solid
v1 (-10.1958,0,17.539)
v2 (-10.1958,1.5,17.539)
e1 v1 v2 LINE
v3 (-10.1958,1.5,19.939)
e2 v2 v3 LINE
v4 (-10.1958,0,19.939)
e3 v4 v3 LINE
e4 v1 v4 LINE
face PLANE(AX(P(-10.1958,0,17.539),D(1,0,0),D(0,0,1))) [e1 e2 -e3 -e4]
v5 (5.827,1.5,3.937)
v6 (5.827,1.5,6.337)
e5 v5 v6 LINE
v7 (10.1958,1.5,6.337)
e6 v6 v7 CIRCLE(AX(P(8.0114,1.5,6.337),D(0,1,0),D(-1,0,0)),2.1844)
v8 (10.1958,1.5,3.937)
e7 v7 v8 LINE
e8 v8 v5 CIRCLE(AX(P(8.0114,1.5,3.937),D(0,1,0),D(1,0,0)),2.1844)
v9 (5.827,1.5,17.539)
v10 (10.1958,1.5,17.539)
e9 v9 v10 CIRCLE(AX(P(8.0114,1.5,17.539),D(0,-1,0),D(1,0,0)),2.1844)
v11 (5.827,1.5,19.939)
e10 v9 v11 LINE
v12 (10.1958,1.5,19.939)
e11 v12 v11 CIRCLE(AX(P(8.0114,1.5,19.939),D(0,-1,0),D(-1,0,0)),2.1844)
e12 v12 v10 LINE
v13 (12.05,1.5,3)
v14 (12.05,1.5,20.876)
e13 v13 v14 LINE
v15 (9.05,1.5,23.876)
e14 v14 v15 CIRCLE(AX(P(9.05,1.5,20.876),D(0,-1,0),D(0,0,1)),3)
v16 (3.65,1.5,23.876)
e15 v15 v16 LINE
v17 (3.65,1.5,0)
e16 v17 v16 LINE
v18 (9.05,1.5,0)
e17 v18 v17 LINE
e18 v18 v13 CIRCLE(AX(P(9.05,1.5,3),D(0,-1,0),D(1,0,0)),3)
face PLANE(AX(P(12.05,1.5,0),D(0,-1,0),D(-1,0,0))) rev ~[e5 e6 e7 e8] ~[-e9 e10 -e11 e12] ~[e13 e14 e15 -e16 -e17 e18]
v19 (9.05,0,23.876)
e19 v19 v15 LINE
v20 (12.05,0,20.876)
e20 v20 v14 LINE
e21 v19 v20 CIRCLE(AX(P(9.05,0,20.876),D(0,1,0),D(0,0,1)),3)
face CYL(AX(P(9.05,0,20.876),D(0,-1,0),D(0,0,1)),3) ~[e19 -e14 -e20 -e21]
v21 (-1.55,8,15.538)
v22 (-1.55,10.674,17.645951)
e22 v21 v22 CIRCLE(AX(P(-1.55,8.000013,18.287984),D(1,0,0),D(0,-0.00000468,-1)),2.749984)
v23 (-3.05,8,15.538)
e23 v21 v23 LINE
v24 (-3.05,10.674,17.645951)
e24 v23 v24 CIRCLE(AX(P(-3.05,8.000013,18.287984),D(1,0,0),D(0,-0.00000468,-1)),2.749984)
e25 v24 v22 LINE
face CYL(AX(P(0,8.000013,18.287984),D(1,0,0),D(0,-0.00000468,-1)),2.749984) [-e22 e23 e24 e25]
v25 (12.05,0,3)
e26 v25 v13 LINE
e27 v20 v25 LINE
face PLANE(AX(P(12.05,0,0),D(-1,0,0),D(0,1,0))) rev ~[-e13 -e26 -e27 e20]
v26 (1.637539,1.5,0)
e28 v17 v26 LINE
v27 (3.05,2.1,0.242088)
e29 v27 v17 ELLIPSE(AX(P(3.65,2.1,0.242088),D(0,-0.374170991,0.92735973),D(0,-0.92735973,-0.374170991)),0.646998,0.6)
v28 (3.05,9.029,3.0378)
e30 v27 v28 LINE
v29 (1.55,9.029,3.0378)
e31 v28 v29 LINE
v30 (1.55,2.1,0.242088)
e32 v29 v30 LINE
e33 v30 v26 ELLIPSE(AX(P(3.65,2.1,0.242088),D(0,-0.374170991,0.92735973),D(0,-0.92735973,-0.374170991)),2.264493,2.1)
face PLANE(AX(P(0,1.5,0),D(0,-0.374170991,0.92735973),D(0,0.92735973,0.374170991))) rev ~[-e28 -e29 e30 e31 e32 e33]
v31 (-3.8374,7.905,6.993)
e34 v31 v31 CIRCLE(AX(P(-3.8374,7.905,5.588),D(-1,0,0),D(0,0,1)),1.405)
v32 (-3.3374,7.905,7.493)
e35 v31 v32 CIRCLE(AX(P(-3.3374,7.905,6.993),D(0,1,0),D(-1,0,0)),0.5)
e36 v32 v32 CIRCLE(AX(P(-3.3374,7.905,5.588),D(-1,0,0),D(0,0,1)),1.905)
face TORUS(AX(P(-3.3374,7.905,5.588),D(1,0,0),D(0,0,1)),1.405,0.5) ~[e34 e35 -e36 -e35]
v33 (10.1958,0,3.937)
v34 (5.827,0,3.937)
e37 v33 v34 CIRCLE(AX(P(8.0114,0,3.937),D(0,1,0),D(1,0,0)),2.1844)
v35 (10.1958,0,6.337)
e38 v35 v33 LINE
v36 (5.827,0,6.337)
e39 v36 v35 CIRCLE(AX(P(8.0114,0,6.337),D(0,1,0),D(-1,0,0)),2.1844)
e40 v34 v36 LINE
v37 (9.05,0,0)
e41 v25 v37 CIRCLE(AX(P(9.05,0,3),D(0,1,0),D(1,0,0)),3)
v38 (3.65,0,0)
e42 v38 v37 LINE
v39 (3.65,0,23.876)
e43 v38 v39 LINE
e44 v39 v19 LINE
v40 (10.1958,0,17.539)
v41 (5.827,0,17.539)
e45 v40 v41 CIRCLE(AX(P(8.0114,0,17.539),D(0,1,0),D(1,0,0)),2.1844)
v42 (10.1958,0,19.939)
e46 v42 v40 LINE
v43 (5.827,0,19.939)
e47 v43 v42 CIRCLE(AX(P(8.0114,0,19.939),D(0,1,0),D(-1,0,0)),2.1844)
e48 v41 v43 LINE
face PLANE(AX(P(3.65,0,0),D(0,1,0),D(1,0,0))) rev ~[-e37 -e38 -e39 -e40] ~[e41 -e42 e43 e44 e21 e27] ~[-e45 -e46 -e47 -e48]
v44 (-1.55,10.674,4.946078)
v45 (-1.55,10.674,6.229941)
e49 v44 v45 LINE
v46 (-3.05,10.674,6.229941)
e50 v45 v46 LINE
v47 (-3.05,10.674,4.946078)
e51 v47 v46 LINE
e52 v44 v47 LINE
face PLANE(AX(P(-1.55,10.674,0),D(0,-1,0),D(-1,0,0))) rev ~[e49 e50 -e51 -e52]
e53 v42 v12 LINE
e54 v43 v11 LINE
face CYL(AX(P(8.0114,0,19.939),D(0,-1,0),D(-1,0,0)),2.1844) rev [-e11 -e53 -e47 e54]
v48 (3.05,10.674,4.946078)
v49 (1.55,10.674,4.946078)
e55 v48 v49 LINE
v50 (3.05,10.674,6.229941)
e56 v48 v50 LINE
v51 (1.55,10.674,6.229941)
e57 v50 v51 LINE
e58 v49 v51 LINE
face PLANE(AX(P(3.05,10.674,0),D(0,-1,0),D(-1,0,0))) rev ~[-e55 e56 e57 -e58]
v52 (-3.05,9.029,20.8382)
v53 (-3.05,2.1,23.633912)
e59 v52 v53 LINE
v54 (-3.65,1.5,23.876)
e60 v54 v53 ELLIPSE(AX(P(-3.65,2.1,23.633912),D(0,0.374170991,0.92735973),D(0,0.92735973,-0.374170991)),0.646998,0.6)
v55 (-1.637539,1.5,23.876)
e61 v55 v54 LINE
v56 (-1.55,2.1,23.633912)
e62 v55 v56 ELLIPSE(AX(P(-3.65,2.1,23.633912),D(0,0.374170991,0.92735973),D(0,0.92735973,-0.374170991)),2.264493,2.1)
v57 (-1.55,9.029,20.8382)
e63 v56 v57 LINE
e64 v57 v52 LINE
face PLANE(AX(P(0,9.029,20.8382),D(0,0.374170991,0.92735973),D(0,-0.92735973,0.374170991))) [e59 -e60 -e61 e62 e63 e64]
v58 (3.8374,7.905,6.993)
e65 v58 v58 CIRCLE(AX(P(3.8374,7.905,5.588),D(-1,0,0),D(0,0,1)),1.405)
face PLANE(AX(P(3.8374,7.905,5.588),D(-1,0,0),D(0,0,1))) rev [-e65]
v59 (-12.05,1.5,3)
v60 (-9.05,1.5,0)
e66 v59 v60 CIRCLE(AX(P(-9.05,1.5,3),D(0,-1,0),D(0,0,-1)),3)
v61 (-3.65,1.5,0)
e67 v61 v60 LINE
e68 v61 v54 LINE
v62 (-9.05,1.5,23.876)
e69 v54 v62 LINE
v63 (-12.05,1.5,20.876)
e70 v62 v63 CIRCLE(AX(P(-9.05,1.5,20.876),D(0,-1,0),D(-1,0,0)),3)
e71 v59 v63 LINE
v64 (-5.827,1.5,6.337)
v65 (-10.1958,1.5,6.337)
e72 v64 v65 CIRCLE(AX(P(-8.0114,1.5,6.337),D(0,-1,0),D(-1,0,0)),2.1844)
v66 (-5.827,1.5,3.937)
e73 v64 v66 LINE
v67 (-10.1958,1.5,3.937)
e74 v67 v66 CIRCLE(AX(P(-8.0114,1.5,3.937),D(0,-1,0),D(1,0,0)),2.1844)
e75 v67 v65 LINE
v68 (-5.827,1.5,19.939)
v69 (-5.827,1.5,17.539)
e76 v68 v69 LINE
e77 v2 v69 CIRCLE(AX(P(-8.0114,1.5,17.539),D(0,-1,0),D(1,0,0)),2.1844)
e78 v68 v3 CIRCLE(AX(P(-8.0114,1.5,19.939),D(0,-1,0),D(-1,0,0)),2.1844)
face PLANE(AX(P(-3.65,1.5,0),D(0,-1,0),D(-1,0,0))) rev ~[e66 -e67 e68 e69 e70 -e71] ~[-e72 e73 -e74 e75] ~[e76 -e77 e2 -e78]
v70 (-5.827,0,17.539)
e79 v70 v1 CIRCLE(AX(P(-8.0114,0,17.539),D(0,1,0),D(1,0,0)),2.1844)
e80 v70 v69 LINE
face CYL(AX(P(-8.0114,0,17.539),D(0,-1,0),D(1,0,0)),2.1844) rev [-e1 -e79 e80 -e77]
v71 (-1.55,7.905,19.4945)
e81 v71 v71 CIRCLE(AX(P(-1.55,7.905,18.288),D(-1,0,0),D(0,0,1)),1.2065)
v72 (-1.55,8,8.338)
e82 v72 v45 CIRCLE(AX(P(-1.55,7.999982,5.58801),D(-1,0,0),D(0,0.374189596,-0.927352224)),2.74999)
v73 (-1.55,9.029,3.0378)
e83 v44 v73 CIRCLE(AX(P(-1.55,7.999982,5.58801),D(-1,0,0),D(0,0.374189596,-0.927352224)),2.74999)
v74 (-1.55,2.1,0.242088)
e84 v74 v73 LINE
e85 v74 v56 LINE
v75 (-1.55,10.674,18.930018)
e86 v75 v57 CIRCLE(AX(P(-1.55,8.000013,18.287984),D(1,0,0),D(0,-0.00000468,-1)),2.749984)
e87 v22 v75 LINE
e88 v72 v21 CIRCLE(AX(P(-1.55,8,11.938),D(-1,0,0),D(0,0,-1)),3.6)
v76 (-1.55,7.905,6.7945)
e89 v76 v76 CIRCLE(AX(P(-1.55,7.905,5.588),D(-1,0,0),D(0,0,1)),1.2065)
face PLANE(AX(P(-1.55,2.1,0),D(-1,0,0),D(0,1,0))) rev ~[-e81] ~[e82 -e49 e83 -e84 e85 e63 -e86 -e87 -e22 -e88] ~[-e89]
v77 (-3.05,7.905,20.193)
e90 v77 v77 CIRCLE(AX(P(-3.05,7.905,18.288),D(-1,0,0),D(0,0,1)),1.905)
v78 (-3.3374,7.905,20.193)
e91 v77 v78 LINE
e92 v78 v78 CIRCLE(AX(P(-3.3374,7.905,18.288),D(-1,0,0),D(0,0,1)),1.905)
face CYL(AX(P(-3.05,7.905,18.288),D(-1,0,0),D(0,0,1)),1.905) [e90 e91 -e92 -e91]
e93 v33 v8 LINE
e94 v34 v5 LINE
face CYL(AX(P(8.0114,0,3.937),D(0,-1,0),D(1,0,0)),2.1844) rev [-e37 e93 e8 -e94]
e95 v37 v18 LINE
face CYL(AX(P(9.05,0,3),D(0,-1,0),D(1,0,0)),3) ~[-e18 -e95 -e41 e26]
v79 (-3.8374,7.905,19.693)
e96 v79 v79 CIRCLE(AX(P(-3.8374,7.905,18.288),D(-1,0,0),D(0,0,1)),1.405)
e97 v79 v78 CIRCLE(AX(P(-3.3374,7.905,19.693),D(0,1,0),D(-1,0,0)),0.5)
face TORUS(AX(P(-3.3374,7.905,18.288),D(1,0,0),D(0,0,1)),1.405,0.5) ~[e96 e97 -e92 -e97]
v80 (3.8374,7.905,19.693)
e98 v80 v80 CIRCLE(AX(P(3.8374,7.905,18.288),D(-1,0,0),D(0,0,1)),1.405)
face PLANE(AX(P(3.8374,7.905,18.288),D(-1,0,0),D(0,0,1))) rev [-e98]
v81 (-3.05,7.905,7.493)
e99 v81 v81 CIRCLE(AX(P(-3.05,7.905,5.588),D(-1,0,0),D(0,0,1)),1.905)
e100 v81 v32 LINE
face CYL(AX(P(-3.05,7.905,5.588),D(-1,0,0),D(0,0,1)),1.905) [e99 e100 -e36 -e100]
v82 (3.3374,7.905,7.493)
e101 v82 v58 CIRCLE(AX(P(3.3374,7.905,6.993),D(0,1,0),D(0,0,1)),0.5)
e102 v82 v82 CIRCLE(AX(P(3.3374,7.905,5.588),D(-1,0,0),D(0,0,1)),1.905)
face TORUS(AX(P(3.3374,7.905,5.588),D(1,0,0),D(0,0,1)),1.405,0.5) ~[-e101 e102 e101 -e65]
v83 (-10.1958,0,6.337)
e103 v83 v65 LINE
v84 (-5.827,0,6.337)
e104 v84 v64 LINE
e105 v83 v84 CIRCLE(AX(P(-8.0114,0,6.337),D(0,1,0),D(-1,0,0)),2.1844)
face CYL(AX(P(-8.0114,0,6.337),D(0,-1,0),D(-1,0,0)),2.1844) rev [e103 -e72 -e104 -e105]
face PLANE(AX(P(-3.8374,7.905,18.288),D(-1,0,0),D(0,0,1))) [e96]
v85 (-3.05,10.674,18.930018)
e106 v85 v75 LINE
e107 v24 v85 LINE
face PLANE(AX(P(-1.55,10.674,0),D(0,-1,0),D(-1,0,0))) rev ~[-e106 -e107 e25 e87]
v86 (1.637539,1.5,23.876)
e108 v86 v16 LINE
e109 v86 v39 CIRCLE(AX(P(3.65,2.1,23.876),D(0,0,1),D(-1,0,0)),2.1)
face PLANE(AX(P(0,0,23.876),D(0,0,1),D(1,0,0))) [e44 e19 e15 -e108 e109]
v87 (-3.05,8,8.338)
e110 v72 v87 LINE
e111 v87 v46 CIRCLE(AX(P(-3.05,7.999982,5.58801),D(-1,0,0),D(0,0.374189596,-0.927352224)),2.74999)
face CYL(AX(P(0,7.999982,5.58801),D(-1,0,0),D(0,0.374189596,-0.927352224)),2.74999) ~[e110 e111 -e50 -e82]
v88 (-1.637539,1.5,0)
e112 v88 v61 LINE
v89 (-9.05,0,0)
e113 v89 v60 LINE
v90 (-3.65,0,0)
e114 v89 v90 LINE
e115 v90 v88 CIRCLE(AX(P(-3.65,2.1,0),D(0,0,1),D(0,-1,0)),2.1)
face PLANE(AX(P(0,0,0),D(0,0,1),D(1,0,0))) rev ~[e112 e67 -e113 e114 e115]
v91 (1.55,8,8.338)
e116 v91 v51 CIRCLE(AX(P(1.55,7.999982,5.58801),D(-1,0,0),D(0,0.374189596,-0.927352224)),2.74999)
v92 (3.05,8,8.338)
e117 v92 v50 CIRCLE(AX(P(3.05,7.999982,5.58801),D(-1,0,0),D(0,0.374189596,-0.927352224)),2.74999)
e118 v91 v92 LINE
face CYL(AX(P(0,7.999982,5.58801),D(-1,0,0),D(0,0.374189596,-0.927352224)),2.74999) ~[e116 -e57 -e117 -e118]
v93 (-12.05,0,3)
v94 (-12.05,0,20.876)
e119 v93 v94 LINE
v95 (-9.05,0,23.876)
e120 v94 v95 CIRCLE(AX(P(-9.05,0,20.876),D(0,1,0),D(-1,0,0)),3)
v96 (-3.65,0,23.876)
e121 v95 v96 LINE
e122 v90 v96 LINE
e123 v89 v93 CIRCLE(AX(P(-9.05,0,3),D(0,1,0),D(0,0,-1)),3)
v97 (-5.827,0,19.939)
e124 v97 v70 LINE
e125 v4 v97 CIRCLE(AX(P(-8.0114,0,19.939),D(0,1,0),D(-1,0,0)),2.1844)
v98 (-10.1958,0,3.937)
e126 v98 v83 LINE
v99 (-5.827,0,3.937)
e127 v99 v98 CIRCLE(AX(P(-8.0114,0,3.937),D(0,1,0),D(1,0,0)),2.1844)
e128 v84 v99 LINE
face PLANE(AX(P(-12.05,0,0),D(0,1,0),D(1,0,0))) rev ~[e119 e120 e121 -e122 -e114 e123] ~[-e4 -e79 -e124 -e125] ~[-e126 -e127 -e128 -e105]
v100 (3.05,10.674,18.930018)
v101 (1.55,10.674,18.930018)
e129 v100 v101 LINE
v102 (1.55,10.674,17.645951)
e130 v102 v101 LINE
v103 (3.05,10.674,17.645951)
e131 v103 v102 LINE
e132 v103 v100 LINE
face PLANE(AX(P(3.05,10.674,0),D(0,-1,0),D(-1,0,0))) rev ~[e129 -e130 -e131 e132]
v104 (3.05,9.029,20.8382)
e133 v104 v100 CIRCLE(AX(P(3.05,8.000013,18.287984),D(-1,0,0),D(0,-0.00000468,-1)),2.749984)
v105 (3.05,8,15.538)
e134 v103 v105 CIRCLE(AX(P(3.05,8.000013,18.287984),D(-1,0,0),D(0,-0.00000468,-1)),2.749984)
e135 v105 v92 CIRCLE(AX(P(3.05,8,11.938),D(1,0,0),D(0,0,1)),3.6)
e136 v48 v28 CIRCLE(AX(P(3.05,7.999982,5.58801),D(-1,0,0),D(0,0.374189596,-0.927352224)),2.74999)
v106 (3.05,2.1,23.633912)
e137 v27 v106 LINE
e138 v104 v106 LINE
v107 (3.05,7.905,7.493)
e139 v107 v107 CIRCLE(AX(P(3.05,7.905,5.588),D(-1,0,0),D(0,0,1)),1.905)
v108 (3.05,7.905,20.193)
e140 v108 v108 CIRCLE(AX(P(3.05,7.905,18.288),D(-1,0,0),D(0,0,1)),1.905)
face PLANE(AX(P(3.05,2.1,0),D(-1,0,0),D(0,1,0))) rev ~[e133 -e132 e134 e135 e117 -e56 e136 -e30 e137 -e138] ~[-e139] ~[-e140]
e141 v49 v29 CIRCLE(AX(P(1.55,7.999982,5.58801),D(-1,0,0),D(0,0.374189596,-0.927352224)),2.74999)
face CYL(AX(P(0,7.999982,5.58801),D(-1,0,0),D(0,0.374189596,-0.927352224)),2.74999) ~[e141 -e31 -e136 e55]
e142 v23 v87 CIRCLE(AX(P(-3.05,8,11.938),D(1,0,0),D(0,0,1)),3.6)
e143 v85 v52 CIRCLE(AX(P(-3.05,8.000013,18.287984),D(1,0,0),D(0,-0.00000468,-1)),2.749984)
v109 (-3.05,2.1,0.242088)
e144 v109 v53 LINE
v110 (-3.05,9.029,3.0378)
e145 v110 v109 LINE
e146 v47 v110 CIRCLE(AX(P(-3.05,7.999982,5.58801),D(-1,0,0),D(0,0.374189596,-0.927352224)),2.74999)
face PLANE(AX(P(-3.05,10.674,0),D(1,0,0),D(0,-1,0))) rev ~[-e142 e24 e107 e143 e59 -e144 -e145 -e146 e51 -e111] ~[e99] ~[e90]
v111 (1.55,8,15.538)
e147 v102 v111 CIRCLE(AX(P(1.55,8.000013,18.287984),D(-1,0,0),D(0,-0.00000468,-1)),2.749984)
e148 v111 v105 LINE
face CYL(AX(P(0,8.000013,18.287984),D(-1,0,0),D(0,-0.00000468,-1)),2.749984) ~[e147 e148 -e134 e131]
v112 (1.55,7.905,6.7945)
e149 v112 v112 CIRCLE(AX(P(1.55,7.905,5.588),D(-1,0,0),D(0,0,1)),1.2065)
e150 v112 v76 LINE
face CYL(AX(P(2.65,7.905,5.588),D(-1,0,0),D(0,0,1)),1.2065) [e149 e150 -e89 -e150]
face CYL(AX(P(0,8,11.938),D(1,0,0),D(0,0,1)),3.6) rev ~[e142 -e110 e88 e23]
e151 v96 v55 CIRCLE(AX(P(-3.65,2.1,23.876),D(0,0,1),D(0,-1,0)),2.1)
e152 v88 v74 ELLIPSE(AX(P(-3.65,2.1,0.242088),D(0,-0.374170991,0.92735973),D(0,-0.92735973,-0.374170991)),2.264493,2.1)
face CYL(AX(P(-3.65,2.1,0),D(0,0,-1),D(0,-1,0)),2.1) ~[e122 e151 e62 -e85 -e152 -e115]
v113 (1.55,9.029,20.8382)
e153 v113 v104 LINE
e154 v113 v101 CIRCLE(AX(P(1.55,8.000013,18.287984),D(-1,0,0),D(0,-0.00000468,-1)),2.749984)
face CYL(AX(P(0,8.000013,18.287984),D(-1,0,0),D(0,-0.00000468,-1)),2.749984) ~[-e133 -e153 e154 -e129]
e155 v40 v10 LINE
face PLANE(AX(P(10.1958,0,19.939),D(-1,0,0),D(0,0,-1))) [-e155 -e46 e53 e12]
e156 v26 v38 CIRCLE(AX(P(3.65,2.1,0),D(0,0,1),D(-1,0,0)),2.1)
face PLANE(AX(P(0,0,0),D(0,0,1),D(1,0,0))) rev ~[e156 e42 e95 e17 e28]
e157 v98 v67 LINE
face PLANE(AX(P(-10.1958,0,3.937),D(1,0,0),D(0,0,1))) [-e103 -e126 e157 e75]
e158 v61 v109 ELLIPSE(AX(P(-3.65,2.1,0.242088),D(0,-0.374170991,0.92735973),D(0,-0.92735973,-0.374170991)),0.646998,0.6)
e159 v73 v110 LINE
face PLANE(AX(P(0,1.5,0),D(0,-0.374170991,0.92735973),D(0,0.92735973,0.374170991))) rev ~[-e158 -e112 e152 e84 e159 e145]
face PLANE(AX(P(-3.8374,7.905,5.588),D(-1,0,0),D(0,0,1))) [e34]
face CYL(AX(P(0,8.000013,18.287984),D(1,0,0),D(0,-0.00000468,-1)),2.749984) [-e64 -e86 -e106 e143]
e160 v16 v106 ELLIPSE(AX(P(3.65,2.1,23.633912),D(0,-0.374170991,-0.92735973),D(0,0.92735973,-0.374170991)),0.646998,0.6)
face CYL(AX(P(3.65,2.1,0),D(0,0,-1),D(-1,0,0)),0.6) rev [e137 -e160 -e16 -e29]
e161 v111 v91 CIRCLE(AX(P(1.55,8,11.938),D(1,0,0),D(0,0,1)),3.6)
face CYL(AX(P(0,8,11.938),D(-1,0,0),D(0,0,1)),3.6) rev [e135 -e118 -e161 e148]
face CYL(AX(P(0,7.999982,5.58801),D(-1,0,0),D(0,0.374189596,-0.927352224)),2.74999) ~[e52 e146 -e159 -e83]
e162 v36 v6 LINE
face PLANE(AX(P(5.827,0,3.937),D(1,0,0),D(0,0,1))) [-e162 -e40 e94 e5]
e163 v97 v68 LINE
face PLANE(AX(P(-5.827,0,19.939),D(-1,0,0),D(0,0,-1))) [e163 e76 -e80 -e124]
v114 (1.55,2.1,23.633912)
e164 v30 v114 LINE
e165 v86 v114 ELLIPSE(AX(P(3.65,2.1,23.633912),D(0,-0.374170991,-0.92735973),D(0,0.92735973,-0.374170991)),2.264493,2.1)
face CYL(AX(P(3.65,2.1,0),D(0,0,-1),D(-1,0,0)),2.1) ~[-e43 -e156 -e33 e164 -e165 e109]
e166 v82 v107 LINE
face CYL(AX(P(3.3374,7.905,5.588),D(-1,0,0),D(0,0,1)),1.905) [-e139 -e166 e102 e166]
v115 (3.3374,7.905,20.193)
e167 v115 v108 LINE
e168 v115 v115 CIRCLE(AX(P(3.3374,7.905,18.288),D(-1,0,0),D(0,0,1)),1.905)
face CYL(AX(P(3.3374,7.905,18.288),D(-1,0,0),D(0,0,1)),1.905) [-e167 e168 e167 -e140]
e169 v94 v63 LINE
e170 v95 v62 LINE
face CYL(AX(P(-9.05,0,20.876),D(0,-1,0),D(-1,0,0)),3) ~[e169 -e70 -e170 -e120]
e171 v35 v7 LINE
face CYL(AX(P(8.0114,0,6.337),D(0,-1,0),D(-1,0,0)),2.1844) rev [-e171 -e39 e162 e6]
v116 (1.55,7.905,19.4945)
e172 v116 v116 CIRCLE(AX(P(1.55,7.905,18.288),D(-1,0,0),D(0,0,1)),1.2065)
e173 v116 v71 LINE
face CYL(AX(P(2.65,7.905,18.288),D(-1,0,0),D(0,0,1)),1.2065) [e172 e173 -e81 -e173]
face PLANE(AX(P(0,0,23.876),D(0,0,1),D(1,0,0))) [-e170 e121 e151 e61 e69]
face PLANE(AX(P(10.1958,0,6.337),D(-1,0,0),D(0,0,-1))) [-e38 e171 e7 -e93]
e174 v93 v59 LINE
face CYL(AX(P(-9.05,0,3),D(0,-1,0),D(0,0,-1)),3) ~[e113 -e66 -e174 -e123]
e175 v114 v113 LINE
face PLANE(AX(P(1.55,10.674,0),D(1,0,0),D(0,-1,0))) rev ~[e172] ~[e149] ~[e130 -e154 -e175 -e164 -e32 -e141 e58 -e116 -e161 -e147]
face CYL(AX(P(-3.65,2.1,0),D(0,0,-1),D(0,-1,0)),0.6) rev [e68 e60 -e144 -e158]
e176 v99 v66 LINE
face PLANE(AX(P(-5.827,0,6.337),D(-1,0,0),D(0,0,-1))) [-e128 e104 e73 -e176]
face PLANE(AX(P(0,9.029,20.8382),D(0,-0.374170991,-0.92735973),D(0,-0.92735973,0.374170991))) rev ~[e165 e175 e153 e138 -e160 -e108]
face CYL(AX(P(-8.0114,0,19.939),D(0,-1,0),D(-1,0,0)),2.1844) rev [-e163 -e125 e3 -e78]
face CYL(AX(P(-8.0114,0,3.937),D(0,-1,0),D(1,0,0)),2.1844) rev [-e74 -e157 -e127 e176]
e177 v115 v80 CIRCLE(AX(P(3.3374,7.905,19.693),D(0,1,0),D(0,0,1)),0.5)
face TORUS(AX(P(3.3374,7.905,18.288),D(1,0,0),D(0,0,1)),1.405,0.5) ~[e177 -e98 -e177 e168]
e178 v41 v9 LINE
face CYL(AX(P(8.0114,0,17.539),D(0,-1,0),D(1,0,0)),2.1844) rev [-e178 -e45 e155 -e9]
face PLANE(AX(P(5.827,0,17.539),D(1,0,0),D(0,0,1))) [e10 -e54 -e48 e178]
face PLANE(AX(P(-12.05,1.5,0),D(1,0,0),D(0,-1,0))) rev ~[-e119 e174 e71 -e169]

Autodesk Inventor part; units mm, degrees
sketch "Skizze_1" plane through (0, 0, 0) normal (0, 0, 1) x (1, 0, 0)
  arc A0 (1.55, 2.1) -> (3.65, 0) centre (3.65, 2.1) ccw
  line L0 (3.65, 0) -> (12.05, 0)
  line L1 (12.05, 0) -> (12.05, 1.5)
  line L2 (12.05, 1.5) -> (3.65, 1.5)
  arc A1 (3.05, 2.1) -> (3.65, 1.5) centre (3.65, 2.1) ccw
  line L3 (3.05, 2.1) -> (3.05, 10.674)
  line L4 (3.05, 10.674) -> (1.55, 10.674)
  line L5 (1.55, 10.674) -> (1.55, 2.1)
extrude "Extrusion1" add sketch "Skizze_1" along normal blind 23.876
sketch "Skizze_2" plane through (0, 7.905, 0) normal (0, 1, 0) x (1, 0, 0)
  line L0 (-3.8374, -5.588) -> (3.8374, -5.588)
  line L1 (3.8374, -5.588) -> (3.8374, -6.993)
  arc A0 (3.3374, -7.493) -> (3.8374, -6.993) centre (3.3374, -6.993) ccw
  line L2 (3.3374, -7.493) -> (3.05, -7.493)
  line L3 (3.05, -7.493) -> (3.05, -7.1945)
  arc A1 (3.05, -7.1945) -> (2.65, -6.7945) centre (2.65, -7.1945) ccw
  line L4 (2.65, -6.7945) -> (-2.65, -6.7945)
  arc A2 (-2.65, -6.7945) -> (-3.05, -7.1945) centre (-2.65, -7.1945) ccw
  line L5 (-3.05, -7.1945) -> (-3.05, -7.493)
  line L6 (-3.05, -7.493) -> (-3.3374, -7.493)
  arc A3 (-3.8374, -6.993) -> (-3.3374, -7.493) centre (-3.3374, -6.993) ccw
  line L7 (-3.8374, -6.993) -> (-3.8374, -5.588)
  line L8 (-3.8374, -5.588) -> (3.8374, -5.588)
revolve "Revolution1" add sketch "Skizze_2" angle 360 about axis through (-3.8374, 7.905, 5.588) along (-1, 0, 0)
sketch "Skizze_3" plane through (0, 7.905, 0) normal (0, 1, 0) x (1, 0, 0)
  line L0 (-3.8374, -18.288) -> (3.8374, -18.288)
  line L1 (3.8374, -18.288) -> (3.8374, -19.693)
  arc A0 (3.3374, -20.193) -> (3.8374, -19.693) centre (3.3374, -19.693) ccw
  line L2 (3.3374, -20.193) -> (3.05, -20.193)
  line L3 (3.05, -20.193) -> (3.05, -19.8945)
  arc A1 (3.05, -19.8945) -> (2.65, -19.4945) centre (2.65, -19.8945) ccw
  line L4 (2.65, -19.4945) -> (-2.65, -19.4945)
  arc A2 (-2.65, -19.4945) -> (-3.05, -19.8945) centre (-2.65, -19.8945) ccw
  line L5 (-3.05, -19.8945) -> (-3.05, -20.193)
  line L6 (-3.05, -20.193) -> (-3.3374, -20.193)
  arc A3 (-3.8374, -19.693) -> (-3.3374, -20.193) centre (-3.3374, -19.693) ccw
  line L7 (-3.8374, -19.693) -> (-3.8374, -18.288)
  line L8 (-3.8374, -18.288) -> (3.8374, -18.288)
revolve "Revolution2" add sketch "Skizze_3" angle 360 about axis through (-3.8374, 7.905, 18.288) along (-1, 0, 0)
sketch "Skizze_4" plane through (0, 0, 0) normal (0, 0, 1) x (1, 0, 0)
  line L0 (-12.05, 1.5) -> (-12.05, 0)
  line L1 (-12.05, 0) -> (-3.65, 0)
  arc A0 (-3.65, 0) -> (-1.55, 2.1) centre (-3.65, 2.1) ccw
  line L2 (-1.55, 2.1) -> (-1.55, 10.674)
  line L3 (-1.55, 10.674) -> (-3.05, 10.674)
  line L4 (-3.05, 10.674) -> (-3.05, 2.1)
  arc A1 (-3.65, 1.5) -> (-3.05, 2.1) centre (-3.65, 2.1) ccw
  line L5 (-3.65, 1.5) -> (-12.05, 1.5)
extrude "Extrusion2" add sketch "Skizze_4" along normal blind 23.876
sketch "Skizze_5" plane through (0, 0, 0) normal (1, 0, 0) x (0, 1, 0)
  line L0 (-7, 30) -> (-7, -7)
  line L1 (-7, -7) -> (15, -7)
  line L2 (15, -7) -> (15, 30)
  line L3 (15, 30) -> (-7, 30)
  line L4 (1.5, 23.876) -> (0, 23.876)
  line L5 (0, 23.876) -> (0, 0)
  line L6 (0, 0) -> (1.5, 0)
  line L7 (1.5, 0) -> (9.029, 3.0378)
  arc A0 (9.029, 3.0378) -> (8, 8.338) centre (8, 5.588) ccw
  arc A1 (4.4, 11.938) -> (8, 8.338) centre (8, 11.938) ccw
  arc A2 (8, 15.538) -> (4.4, 11.938) centre (8, 11.938) ccw
  arc A3 (8, 15.538) -> (9.029, 20.8382) centre (8, 18.288) ccw
  line L8 (9.029, 20.8382) -> (1.5, 23.876)
extrude "Extrusion3" cut sketch "Skizze_5" along normal mid plane 50
sketch "Skizze_6" plane through (0, 0, 0) normal (0, 1, 0) x (-1, 0, 0)
  line L0 (31, 46) -> (-49, 46)
  line L1 (-49, 46) -> (-49, -17)
  line L2 (-49, -17) -> (31, -17)
  line L3 (31, -17) -> (31, 46)
  arc A0 (12.05, 20.876) -> (9.05, 23.876) centre (9.05, 20.876) ccw
  line L4 (9.05, 23.876) -> (-9.05, 23.876)
  arc A1 (-9.05, 23.876) -> (-12.05, 20.876) centre (-9.05, 20.876) ccw
  line L5 (-12.05, 20.876) -> (-12.05, 3)
  arc A2 (-12.05, 3) -> (-9.05, 0) centre (-9.05, 3) ccw
  line L6 (-9.05, 0) -> (9.05, 0)
  arc A3 (9.05, 0) -> (12.05, 3) centre (9.05, 3) ccw
  line L7 (12.05, 3) -> (12.05, 20.876)
extrude "Extrusion4" cut sketch "Skizze_6" along normal blind 5
sketch "Skizze_7" plane through (0, 0, 0) normal (0, 1, 0) x (-1, 0, 0)
  arc A0 (-5.827, 6.337) -> (-10.1958, 6.337) centre (-8.0114, 6.337) ccw
  line L0 (-10.1958, 6.337) -> (-10.1958, 3.937)
  arc A1 (-10.1958, 3.937) -> (-5.827, 3.937) centre (-8.0114, 3.937) ccw
  line L1 (-5.827, 3.937) -> (-5.827, 6.337)
extrude "Extrusion5" cut sketch "Skizze_7" along normal blind 1.5
sketch "Skizze_8" plane through (0, 0, 0) normal (0, 1, 0) x (-1, 0, 0)
  line L0 (-5.827, 17.539) -> (-5.827, 19.939)
  arc A0 (-5.827, 19.939) -> (-10.1958, 19.939) centre (-8.0114, 19.939) ccw
  line L1 (-10.1958, 19.939) -> (-10.1958, 17.539)
  arc A1 (-10.1958, 17.539) -> (-5.827, 17.539) centre (-8.0114, 17.539) ccw
extrude "Extrusion6" cut sketch "Skizze_8" along normal blind 5
sketch "Skizze_10" plane through (0, 0, 0) normal (0, 1, 0) x (-1, 0, 0)
  arc A0 (10.1958, 6.337) -> (5.827, 6.337) centre (8.0114, 6.337) ccw
  line L0 (5.827, 6.337) -> (5.827, 3.937)
  arc A1 (5.827, 3.937) -> (10.1958, 3.937) centre (8.0114, 3.937) ccw
  line L1 (10.1958, 3.937) -> (10.1958, 6.337)
extrude "Extrusion7" cut sketch "Skizze_10" along normal blind 5
sketch "Skizze_11" plane through (0, 0, 0) normal (0, 1, 0) x (-1, 0, 0)
  line L0 (10.1958, 17.539) -> (10.1958, 19.939)
  arc A0 (10.1958, 19.939) -> (5.827, 19.939) centre (8.0114, 19.939) ccw
  line L1 (5.827, 19.939) -> (5.827, 17.539)
  arc A1 (5.827, 17.539) -> (10.1958, 17.539) centre (8.0114, 17.539) ccw
extrude "Extrusion8" cut sketch "Skizze_11" along normal blind 3
ref_plane "WF1_XY" through (0, 7.905, 5.588) normal (1, 0, 0) x (0, 0, -1)
ref_plane "WF1_YZ" through (0, 7.905, 5.588) normal (0, 0, -1) x (0, 1, 0)
ref_plane "WF1_ZX" through (0, 7.905, 5.588) normal (0, 1, 0) x (1, 0, 0)
ref_plane "WF2_XY" through (0, 7.905, 18.288) normal (1, 0, 0) x (0, 0, -1)
ref_plane "WF2_YZ" through (0, 7.905, 18.288) normal (0, 0, -1) x (0, 1, 0)
ref_plane "WF2_ZX" through (0, 7.905, 18.288) normal (0, 1, 0) x (1, 0, 0)
properties part number "205-S-WF"
